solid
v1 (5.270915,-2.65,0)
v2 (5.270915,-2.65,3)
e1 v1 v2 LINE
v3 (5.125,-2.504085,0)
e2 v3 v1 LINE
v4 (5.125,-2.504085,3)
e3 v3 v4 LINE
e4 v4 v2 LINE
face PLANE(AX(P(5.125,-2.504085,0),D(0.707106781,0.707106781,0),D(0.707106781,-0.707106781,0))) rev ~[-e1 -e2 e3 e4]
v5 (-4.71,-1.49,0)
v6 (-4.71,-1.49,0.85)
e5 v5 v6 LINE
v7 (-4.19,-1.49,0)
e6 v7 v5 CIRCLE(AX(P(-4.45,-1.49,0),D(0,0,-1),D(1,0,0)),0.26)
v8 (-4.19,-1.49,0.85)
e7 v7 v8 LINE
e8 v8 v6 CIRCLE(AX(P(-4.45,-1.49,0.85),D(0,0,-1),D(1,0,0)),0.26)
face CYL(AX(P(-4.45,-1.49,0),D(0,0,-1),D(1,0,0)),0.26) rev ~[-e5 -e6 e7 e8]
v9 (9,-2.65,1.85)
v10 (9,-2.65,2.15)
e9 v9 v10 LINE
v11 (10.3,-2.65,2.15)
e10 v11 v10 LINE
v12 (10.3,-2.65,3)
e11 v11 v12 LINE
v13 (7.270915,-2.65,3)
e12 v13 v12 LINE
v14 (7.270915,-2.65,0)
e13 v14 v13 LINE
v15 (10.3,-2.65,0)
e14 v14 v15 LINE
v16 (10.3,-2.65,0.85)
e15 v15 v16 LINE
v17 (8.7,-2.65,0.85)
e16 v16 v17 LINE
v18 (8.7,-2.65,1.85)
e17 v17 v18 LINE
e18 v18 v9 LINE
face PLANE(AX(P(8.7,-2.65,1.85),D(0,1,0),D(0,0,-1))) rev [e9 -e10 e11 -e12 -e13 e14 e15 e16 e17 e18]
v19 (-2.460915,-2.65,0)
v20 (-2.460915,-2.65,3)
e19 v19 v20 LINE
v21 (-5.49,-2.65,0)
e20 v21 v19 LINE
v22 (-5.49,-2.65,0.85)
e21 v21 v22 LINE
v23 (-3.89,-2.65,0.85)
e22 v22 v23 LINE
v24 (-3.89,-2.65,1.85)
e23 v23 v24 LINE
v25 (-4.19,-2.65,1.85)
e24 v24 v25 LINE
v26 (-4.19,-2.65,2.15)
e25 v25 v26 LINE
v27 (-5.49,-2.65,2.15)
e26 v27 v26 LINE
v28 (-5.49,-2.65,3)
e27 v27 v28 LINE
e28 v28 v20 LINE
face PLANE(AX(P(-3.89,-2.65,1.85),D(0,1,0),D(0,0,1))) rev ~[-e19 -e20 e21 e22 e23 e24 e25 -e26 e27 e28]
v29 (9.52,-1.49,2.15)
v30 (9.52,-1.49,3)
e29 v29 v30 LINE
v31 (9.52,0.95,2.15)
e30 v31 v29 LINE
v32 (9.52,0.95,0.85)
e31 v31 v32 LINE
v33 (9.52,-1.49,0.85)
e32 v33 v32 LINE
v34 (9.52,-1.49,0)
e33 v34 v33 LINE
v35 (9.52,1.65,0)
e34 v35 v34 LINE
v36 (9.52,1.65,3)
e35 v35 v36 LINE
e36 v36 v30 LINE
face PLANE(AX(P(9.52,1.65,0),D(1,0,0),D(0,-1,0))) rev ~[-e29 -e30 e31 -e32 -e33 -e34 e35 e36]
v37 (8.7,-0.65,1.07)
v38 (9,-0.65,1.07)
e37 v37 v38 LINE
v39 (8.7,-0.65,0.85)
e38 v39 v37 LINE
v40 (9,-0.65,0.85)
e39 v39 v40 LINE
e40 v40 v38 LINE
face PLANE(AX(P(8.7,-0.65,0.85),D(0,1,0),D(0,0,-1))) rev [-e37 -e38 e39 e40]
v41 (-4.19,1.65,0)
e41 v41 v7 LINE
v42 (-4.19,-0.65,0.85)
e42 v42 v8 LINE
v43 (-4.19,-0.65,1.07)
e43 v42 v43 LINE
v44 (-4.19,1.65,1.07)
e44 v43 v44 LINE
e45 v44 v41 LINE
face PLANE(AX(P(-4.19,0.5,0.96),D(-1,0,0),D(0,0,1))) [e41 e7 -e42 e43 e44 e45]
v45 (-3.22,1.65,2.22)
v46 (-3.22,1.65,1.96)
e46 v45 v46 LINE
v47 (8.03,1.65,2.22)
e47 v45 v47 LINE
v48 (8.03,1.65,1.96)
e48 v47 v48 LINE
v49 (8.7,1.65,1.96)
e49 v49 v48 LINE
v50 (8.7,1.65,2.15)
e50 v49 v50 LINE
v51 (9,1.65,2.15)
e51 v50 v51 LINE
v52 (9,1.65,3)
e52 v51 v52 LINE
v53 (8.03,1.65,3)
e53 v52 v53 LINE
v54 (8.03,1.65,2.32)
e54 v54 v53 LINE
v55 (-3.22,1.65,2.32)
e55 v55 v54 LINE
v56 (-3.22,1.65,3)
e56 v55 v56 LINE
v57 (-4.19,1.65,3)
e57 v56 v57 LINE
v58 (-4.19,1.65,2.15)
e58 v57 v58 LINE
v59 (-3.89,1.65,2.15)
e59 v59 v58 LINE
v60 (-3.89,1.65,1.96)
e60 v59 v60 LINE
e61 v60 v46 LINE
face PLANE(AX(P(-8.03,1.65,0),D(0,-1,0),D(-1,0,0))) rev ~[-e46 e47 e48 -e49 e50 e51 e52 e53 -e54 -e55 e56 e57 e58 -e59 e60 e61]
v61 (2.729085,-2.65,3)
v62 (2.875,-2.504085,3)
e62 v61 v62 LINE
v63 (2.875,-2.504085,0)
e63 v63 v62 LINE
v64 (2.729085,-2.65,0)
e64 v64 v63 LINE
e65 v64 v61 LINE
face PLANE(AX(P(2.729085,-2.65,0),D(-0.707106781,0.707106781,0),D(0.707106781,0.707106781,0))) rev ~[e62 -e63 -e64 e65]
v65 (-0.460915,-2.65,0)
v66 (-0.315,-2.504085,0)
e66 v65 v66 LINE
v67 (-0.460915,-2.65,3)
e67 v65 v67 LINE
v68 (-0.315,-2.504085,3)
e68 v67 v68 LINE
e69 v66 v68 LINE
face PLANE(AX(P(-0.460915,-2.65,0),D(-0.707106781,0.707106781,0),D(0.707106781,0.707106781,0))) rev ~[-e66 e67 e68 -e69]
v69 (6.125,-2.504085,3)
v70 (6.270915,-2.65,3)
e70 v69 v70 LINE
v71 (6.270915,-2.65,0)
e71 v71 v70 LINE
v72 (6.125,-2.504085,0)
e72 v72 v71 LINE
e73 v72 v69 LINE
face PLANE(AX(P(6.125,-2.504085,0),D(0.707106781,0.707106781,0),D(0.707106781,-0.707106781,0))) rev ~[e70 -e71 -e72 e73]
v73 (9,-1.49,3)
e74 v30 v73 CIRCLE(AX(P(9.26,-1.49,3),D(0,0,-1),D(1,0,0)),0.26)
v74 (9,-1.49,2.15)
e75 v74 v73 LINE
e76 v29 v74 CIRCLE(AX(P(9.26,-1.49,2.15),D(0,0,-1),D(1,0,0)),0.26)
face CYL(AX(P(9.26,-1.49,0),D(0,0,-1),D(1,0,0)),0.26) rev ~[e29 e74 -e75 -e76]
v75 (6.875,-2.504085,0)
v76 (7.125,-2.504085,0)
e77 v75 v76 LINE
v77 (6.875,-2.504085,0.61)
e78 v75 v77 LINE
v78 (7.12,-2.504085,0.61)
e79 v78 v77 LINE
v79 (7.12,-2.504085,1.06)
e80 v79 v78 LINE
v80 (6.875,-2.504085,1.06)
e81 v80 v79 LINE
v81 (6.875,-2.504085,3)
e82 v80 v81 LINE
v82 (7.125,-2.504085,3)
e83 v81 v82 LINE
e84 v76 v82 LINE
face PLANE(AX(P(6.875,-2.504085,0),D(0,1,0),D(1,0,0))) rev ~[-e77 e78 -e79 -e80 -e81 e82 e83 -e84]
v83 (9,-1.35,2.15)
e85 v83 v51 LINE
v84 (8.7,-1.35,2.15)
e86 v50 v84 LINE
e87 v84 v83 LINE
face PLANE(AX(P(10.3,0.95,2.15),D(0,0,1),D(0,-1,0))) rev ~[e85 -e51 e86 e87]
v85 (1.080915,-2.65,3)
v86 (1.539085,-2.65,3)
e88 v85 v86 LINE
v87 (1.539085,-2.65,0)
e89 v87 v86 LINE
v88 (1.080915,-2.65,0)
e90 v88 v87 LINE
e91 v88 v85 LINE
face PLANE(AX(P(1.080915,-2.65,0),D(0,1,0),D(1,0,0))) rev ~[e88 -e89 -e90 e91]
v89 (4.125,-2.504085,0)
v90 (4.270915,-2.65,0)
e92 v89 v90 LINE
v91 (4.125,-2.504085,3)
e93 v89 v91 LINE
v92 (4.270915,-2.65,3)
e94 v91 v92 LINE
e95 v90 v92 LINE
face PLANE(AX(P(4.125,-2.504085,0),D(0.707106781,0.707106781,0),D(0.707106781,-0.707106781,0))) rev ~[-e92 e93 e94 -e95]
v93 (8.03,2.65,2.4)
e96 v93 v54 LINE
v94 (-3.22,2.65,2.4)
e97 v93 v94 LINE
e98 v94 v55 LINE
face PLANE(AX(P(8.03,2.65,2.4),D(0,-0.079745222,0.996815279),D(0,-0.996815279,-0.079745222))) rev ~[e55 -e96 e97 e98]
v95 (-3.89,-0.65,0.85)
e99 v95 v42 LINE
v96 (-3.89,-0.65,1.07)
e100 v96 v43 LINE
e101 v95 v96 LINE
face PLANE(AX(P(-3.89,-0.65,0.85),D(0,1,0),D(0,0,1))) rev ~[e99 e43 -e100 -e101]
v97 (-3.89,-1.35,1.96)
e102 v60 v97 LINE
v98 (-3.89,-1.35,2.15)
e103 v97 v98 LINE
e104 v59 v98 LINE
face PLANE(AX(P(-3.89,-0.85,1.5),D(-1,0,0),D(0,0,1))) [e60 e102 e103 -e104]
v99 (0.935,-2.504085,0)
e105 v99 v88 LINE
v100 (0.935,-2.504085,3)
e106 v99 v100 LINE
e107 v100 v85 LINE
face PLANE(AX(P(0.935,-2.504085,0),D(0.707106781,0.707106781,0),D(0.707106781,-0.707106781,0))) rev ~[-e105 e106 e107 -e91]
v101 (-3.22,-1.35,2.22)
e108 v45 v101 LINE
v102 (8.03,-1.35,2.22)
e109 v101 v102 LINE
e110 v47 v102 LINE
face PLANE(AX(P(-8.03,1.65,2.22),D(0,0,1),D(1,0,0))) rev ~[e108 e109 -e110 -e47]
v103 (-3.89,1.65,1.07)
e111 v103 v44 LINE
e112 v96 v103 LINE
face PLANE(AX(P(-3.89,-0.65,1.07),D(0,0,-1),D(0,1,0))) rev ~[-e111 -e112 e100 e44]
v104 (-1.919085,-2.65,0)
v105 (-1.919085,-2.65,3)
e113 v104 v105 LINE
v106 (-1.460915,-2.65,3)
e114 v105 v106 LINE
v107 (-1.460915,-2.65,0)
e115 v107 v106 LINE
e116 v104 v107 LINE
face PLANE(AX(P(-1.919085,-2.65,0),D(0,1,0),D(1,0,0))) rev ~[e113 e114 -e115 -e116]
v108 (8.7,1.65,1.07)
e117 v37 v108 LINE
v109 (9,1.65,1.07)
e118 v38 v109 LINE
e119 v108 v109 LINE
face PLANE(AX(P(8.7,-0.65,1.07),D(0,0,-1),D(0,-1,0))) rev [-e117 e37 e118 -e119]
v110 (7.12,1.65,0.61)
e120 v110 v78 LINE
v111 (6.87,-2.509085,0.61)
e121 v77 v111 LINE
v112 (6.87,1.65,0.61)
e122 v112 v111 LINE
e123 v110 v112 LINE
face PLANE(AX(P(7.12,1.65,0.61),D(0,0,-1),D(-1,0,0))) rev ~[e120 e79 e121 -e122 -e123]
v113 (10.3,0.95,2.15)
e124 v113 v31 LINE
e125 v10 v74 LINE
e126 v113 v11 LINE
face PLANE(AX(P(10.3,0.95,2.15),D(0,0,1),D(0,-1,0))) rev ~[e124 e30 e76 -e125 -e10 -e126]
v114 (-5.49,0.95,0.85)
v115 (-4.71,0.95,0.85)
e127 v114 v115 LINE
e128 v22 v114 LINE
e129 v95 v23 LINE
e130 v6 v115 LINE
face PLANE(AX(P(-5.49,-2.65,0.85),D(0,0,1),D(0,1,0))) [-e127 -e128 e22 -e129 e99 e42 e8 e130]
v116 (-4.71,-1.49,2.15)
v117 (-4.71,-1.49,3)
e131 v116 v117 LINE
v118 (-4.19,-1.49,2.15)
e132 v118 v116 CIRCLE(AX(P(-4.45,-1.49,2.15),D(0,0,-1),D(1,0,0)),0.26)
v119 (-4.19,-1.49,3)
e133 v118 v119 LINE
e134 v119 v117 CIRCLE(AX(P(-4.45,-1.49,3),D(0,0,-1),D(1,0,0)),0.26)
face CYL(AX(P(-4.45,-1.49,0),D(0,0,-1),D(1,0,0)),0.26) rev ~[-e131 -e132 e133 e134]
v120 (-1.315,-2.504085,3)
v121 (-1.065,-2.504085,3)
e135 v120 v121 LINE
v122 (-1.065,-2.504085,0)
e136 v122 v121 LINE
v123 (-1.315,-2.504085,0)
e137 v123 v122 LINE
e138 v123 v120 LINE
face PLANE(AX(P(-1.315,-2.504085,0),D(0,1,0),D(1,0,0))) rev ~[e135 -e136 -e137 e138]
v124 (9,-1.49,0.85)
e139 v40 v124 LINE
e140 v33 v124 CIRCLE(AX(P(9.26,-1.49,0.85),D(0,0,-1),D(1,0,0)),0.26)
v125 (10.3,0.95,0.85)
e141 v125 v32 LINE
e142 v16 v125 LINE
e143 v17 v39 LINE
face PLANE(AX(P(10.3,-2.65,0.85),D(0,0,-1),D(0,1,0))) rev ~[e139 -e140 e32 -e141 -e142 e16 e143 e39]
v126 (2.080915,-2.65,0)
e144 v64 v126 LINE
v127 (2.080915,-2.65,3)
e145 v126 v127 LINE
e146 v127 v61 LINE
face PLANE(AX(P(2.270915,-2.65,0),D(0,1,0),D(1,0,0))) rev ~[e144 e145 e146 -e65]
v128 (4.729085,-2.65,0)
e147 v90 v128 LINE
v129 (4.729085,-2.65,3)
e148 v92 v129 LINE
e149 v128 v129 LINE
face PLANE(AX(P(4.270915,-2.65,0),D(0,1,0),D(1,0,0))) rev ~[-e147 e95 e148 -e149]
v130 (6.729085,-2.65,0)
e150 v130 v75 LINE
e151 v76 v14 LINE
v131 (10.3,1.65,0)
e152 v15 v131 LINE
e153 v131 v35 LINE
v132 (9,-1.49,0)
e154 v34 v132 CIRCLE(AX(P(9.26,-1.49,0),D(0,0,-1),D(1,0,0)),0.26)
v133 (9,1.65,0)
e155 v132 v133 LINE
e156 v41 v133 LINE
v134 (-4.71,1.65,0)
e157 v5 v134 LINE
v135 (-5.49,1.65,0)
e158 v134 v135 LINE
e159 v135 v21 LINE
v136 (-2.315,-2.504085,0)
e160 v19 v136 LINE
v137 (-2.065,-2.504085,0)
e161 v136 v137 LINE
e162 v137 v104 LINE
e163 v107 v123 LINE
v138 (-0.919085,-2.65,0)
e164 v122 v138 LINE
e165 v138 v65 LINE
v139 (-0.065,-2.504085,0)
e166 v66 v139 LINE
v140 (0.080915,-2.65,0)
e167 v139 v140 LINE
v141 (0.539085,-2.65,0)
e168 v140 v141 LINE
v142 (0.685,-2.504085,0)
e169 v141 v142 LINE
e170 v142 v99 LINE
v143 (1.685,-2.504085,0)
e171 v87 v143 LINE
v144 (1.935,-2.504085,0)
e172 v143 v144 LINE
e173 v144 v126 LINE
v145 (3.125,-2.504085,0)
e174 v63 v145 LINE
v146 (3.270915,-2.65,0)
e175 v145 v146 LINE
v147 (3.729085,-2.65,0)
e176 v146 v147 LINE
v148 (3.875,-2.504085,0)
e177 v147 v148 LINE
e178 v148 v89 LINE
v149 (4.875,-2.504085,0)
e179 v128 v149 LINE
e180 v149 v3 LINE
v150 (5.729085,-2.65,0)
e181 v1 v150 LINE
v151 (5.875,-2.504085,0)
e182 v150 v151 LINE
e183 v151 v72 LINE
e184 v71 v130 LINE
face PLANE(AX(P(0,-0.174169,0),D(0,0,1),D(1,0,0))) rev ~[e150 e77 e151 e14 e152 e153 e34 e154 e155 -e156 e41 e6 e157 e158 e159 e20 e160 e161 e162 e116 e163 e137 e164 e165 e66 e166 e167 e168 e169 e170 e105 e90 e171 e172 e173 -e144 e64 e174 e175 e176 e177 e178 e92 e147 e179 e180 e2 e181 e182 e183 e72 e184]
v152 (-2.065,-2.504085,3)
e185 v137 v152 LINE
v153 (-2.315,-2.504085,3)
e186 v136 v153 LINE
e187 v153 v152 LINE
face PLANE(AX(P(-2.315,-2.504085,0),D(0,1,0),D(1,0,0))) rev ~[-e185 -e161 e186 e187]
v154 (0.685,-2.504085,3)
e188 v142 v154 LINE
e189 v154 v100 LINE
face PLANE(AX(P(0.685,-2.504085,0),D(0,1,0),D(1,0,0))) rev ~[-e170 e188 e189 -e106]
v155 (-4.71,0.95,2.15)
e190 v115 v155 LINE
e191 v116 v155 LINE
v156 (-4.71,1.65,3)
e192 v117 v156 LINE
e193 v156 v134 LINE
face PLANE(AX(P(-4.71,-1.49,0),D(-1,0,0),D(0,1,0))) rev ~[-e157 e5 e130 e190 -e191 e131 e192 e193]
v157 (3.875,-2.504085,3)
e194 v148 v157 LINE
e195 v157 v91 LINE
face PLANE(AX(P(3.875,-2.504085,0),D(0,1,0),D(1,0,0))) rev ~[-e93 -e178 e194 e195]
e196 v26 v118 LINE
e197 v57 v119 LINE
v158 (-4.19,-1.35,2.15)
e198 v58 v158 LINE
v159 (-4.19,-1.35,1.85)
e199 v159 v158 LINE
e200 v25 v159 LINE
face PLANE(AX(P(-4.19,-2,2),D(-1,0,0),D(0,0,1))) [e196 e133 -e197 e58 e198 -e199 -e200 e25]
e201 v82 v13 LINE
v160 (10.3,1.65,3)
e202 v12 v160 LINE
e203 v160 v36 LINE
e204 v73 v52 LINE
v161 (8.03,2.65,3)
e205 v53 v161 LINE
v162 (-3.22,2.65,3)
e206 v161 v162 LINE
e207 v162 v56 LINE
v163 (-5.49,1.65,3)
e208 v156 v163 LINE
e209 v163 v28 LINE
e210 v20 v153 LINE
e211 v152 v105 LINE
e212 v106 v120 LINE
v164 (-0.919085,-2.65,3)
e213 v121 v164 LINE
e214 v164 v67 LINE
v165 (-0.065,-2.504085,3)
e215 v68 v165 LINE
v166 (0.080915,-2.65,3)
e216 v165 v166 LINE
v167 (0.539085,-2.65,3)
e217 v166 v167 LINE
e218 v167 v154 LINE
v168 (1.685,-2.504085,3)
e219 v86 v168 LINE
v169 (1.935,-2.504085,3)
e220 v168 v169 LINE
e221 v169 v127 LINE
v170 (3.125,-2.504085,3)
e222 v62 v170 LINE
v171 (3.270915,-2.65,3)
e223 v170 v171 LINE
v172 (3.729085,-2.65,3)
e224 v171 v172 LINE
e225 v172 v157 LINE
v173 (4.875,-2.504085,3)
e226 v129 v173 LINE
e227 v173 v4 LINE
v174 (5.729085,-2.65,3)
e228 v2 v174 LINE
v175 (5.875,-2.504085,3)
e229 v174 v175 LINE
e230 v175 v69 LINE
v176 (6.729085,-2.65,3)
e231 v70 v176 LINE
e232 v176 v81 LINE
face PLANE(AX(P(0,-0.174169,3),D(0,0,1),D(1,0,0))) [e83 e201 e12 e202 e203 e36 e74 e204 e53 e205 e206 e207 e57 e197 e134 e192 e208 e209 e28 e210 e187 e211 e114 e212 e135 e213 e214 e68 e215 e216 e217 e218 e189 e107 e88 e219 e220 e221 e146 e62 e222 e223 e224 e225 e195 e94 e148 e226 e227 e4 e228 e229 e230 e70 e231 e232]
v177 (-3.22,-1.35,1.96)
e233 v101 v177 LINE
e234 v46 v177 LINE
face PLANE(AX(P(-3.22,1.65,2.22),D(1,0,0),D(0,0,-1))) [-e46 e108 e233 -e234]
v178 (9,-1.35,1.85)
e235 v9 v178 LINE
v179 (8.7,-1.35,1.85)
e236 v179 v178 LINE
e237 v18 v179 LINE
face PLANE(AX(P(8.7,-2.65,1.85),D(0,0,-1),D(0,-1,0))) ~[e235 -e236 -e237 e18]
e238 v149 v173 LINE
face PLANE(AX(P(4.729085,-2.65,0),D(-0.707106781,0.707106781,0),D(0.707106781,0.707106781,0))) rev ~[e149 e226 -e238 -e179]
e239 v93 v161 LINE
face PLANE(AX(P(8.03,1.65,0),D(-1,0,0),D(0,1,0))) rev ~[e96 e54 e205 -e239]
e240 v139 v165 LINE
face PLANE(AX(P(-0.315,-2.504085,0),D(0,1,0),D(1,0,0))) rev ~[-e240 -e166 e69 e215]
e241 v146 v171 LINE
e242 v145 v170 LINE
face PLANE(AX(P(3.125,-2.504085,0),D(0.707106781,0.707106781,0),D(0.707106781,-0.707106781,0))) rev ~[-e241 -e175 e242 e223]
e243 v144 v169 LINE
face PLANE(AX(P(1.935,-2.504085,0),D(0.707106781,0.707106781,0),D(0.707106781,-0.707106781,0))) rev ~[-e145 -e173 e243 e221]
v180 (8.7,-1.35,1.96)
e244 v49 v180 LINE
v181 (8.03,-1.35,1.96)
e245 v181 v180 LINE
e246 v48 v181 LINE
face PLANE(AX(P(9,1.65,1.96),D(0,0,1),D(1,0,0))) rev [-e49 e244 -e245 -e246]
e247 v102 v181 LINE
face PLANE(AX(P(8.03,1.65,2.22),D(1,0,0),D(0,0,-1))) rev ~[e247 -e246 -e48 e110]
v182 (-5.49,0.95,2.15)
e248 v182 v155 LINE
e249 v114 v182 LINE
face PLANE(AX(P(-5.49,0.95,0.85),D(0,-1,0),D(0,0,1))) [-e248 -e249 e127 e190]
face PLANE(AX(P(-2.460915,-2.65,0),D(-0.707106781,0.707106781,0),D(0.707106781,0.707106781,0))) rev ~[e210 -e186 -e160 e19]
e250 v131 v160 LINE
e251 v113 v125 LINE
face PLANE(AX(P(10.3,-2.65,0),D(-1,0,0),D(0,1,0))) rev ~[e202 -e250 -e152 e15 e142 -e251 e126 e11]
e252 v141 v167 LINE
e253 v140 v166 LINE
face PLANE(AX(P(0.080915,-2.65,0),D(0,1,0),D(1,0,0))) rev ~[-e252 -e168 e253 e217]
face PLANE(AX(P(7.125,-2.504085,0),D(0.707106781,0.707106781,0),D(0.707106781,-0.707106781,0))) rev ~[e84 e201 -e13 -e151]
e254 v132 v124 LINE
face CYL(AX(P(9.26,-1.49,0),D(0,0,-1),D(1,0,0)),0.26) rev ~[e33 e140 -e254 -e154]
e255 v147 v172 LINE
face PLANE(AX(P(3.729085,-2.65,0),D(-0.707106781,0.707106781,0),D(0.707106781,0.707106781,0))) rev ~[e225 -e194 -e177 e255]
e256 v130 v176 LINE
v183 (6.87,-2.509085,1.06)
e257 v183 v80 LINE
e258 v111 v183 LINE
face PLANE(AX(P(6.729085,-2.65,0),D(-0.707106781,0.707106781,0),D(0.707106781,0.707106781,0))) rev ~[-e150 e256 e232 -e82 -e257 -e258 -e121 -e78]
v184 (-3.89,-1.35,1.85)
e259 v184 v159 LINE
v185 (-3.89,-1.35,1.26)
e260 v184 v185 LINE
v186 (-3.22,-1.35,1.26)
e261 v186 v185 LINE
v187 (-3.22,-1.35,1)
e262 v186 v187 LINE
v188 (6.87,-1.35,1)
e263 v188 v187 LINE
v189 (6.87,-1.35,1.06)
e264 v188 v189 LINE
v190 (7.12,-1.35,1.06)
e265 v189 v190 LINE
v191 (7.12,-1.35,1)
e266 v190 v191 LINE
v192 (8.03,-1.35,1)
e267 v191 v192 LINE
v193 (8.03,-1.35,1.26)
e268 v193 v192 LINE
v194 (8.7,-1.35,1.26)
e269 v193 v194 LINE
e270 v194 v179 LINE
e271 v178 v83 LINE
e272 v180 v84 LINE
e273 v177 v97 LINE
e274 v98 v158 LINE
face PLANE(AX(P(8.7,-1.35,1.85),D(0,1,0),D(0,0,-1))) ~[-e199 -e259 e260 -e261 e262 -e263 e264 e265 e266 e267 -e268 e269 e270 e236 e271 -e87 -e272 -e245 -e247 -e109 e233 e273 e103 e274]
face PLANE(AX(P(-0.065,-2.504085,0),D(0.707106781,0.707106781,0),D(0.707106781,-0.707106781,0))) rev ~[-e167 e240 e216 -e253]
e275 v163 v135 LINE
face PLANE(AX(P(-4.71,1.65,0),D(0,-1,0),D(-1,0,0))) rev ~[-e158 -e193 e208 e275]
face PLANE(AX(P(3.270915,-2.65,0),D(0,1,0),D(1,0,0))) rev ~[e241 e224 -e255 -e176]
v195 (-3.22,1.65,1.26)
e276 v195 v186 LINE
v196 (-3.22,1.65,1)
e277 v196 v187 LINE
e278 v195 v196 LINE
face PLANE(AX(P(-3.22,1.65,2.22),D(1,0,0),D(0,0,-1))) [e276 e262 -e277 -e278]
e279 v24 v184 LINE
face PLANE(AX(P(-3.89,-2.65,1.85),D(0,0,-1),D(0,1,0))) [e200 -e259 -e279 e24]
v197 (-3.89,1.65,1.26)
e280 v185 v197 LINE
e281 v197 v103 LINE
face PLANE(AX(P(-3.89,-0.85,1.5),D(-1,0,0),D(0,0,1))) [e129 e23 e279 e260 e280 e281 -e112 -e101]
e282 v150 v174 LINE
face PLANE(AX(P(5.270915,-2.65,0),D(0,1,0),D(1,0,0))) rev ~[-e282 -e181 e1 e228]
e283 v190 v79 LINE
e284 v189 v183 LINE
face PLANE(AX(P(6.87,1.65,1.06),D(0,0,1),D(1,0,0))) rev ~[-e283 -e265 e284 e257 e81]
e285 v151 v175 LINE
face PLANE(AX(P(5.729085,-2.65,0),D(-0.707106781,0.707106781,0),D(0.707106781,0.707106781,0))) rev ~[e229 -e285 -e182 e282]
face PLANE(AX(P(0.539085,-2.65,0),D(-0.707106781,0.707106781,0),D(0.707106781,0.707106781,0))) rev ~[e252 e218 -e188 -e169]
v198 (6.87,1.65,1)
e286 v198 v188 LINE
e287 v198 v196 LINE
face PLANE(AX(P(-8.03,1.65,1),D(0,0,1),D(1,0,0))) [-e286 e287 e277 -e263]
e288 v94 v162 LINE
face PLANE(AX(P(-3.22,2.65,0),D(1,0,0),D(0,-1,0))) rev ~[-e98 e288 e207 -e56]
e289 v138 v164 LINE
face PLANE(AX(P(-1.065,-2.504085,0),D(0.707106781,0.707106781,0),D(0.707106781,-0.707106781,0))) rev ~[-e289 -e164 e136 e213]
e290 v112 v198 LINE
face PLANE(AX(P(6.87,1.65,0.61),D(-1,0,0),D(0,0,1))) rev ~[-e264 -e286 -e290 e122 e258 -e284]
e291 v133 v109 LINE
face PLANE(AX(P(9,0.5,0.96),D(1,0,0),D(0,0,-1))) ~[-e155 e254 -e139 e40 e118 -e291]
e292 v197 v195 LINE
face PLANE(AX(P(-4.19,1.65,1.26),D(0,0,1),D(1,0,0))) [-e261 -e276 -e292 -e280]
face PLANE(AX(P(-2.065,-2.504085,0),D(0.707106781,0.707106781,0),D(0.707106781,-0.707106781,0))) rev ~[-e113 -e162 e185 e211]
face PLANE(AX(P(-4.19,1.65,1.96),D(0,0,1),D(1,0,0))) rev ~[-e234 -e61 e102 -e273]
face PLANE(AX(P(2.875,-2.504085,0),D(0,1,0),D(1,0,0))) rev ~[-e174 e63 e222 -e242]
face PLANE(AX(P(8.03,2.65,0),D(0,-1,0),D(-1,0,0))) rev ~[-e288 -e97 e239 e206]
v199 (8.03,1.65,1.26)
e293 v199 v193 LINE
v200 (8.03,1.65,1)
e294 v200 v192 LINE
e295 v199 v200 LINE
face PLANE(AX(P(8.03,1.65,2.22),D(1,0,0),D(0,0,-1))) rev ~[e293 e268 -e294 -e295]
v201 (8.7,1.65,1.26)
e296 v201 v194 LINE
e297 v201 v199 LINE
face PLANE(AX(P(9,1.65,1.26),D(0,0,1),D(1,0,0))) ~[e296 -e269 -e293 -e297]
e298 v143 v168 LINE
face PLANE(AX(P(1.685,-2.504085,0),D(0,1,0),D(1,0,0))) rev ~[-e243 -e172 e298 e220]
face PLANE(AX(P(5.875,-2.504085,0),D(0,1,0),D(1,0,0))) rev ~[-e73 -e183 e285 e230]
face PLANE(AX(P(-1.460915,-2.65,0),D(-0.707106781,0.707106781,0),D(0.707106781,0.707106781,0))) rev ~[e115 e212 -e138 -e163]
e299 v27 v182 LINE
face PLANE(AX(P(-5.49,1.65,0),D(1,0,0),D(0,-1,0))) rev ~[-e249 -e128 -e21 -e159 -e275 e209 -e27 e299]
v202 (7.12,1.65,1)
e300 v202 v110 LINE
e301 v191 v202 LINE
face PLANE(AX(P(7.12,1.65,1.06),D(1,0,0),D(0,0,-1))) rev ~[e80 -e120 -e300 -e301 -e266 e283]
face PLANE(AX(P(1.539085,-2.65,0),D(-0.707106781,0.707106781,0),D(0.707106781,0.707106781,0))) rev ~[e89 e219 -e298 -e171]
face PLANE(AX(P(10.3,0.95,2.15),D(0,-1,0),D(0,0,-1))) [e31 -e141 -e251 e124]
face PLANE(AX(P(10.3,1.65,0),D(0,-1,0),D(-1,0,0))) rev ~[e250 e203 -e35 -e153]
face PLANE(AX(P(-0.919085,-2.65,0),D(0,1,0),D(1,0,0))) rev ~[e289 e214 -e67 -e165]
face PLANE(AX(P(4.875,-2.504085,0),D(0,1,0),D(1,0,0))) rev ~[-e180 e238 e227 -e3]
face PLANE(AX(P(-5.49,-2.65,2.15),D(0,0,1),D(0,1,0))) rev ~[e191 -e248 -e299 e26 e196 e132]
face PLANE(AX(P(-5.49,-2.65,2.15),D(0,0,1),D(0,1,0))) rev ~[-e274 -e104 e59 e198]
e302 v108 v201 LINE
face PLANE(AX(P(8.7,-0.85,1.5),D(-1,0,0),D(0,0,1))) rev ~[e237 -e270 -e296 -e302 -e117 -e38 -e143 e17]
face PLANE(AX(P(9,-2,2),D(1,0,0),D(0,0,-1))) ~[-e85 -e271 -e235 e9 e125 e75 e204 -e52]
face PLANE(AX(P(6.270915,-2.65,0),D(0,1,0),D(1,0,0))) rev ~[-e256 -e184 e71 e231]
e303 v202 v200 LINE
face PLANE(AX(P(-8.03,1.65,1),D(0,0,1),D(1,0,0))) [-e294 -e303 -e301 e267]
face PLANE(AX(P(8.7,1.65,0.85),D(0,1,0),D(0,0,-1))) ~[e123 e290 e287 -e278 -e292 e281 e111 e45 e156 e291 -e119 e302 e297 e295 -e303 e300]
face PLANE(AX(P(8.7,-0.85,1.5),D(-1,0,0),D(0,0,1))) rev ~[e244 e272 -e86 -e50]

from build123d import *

# Parameters (mm, degrees)
BOSS_EXTRUDE1_DEPTH             = 3
CUT_EXTRUDE1_DEPTH              = 19.761966848
SKETCH3_W                       = 16.06
SKETCH3_H                       = 1.22
CUT_EXTRUDE2_DEPTH              = 3
CUT_EXTRUDE3_DEPTH              = 12.557681428
CUT_EXTRUDE3_DEPTH_BACK         = 12.557681428
SKETCH5_W                       = 1.3
SKETCH5_H                       = 3.6
CUT_EXTRUDE4_DEPTH              = 1.6
CUT_EXTRUDE5_DEPTH              = 1.6
SKETCH8_W                       = 0.3
SKETCH8_H                       = 1.3
BOSS_EXTRUDE3_DEPTH             = 0.3
CUT_EXTRUDE6_REACH              = 13.558
SKETCH9_W                       = 0.97
SKETCH9_H                       = 0.7
SKETCH10_W                      = 1.3
SKETCH10_H                      = 0.995055469
CUT_EXTRUDE7_DEPTH              = 0.3
SKETCH11_W                      = 1.3
SKETCH11_H                      = 1.339878891
CUT_EXTRUDE8_DEPTH              = 0.3
SKETCH12_W                      = 0.22
SKETCH12_H                      = 2.3
BOSS_EXTRUDE4_DEPTH             = 0.3
SZKIC1_W                        = 4.81
SZKIC1_H                        = 6.619114068
WYTNIJ_WYCI_GNI_CIE1_DEPTH      = 12.050452479
WYTNIJ_WYCI_GNI_CIE1_DEPTH_BACK = 12.050452479


with BuildPart() as part:
    # Sketch1 → Boss-Extrude1 (new body)
    with BuildSketch(Plane.XY):
        with BuildLine():
            Line((4.729085478, -2.65), (4.875, -2.504085478))
            Line((4.875, -2.504085478), (5.125, -2.504085478))
            Line((5.125, -2.504085478), (5.270914522, -2.65))
            Line((5.270914522, -2.65), (5.729085478, -2.65))
            Line((5.729085478, -2.65), (5.875, -2.504085478))
            Line((5.875, -2.504085478), (6.125, -2.504085478))
            Line((6.125, -2.504085478), (6.270914522, -2.65))
            Line((6.270914522, -2.65), (6.729085478, -2.65))
            Line((6.729085478, -2.65), (6.875, -2.504085478))
            Line((6.875, -2.504085478), (7.125, -2.504085478))
            Line((7.125, -2.504085478), (7.270914522, -2.65))
            Line((7.270914522, -2.65), (10.3, -2.65))
            Line((10.3, -2.65), (10.3, 1.65))
            Line((10.3, 1.65), (9.52, 1.65))
            Line((9.52, 1.65), (9.52, -1.49))
            ThreePointArc((9.52, -1.49), (9.26, -1.75), (9, -1.49))
            Line((9, -1.49), (9, 1.65))
            Line((9, 1.65), (8.03, 1.65))
            Line((8.03, 1.65), (8.03, 2.65))
            Line((8.03, 2.65), (-8.03, 2.65))
            Line((-8.03, 2.65), (-8.03, 1.65))
            Line((-8.03, 1.65), (-9, 1.65))
            Line((-9, 1.65), (-9, -1.49))
            ThreePointArc((-9, -1.49), (-9.26, -1.75), (-9.52, -1.49))
            Line((-9.52, -1.49), (-9.52, 1.65))
            Line((-9.52, 1.65), (-10.3, 1.65))
            Line((-10.3, 1.65), (-10.3, -2.65))
            Line((-10.3, -2.65), (-7.270914522, -2.65))
            Line((-7.270914522, -2.65), (-7.125, -2.504085478))
            Line((-7.125, -2.504085478), (-6.875, -2.504085478))
            Line((-6.875, -2.504085478), (-6.729085478, -2.65))
            Line((-6.729085478, -2.65), (-6.270914522, -2.65))
            Line((-6.270914522, -2.65), (-6.125, -2.504085478))
            Line((-6.125, -2.504085478), (-5.875, -2.504085478))
            Line((-5.875, -2.504085478), (-5.729085478, -2.65))
            Line((-5.729085478, -2.65), (-5.270914522, -2.65))
            Line((-5.270914522, -2.65), (-5.125, -2.504085478))
            Line((-5.125, -2.504085478), (-4.875, -2.504085478))
            Line((-4.875, -2.504085478), (-4.729085478, -2.65))
            Line((-4.729085478, -2.65), (-4.270914522, -2.65))
            Line((-4.270914522, -2.65), (-4.125, -2.504085478))
            Line((-4.125, -2.504085478), (-3.875, -2.504085478))
            Line((-3.875, -2.504085478), (-3.729085478, -2.65))
            Line((-3.729085478, -2.65), (-3.270914522, -2.65))
            Line((-3.270914522, -2.65), (-3.125, -2.504085478))
            Line((-3.125, -2.504085478), (-2.875, -2.504085478))
            Line((-2.875, -2.504085478), (-2.729085478, -2.65))
            Line((-2.729085478, -2.65), (-2.270914522, -2.65))
            Line((-2.270914522, -2.65), (-2.125, -2.504085478))
            Line((-2.125, -2.504085478), (-1.875, -2.504085478))
            Line((-1.875, -2.504085478), (-1.729085478, -2.65))
            Line((-1.729085478, -2.65), (-1.270914522, -2.65))
            Line((-1.270914522, -2.65), (-1.125, -2.504085478))
            Line((-1.125, -2.504085478), (-0.875, -2.504085478))
            Line((-0.875, -2.504085478), (-0.729085478, -2.65))
            Line((-0.729085478, -2.65), (-0.270914522, -2.65))
            Line((-0.270914522, -2.65), (-0.125, -2.504085478))
            Line((-0.125, -2.504085478), (0.125, -2.504085478))
            Line((0.125, -2.504085478), (0.270914522, -2.65))
            Line((0.270914522, -2.65), (0.729085478, -2.65))
            Line((0.729085478, -2.65), (0.875, -2.504085478))
            Line((0.875, -2.504085478), (1.125, -2.504085478))
            Line((1.125, -2.504085478), (1.270914522, -2.65))
            Line((1.270914522, -2.65), (1.729085478, -2.65))
            Line((1.729085478, -2.65), (1.875, -2.504085478))
            Line((1.875, -2.504085478), (2.125, -2.504085478))
            Line((2.125, -2.504085478), (2.270914522, -2.65))
            Line((2.270914522, -2.65), (2.729085478, -2.65))
            Line((2.729085478, -2.65), (2.875, -2.504085478))
            Line((2.875, -2.504085478), (3.125, -2.504085478))
            Line((3.125, -2.504085478), (3.270914522, -2.65))
            Line((3.270914522, -2.65), (3.729085478, -2.65))
            Line((3.729085478, -2.65), (3.875, -2.504085478))
            Line((3.875, -2.504085478), (4.125, -2.504085478))
            Line((4.125, -2.504085478), (4.270914522, -2.65))
            Line((4.270914522, -2.65), (4.729085478, -2.65))
        make_face()
    extrude(amount=BOSS_EXTRUDE1_DEPTH)

    # Sketch2 → Cut-Extrude1 (cut, through all)
    with BuildSketch(Plane(origin=(8.03, 0, 0), x_dir=(0, 0, -1), z_dir=(1, 0, 0))):
        Polygon((-2.4, 2.65), (-2.32, 1.65), (0.208388731, 1.65), (0.247686287, 2.908353898), align=None)
    extrude(amount=-CUT_EXTRUDE1_DEPTH, mode=Mode.SUBTRACT)

    # Sketch3 → Cut-Extrude2 (cut)
    with BuildSketch(Plane(origin=(0, 1.65, 0), x_dir=(1, 0, 0), z_dir=(0, 1, 0))):
        with Locations((0, -1.61)):
            Rectangle(SKETCH3_W, SKETCH3_H)
    extrude(amount=-CUT_EXTRUDE2_DEPTH, mode=Mode.SUBTRACT)

    # Sketch4 → Cut-Extrude3 (cut, two sides)
    with BuildSketch(Plane(origin=(0, 1.65, 0), x_dir=(1, 0, 0), z_dir=(0, 1, 0))) as cut_extrude3_sk:
        Polygon((7.12, -1), (7.12, -0.61), (6.87, -0.61), (6.87, -1.06), (7.12, -1.06), align=None)
    extrude(amount=CUT_EXTRUDE3_DEPTH, mode=Mode.SUBTRACT)
    extrude(cut_extrude3_sk.sketch, amount=-CUT_EXTRUDE3_DEPTH_BACK, mode=Mode.SUBTRACT)

    # Sketch5 → Cut-Extrude4 (cut)
    with BuildSketch(Plane.ZY.offset(10.3)):
        with Locations((1.5, -0.85)):
            Rectangle(SKETCH5_W, SKETCH5_H)
    extrude(amount=-CUT_EXTRUDE4_DEPTH, mode=Mode.SUBTRACT)

    # Sketch6 → Cut-Extrude5 (cut)
    with BuildSketch(Plane(origin=(10.3, 0, 0), x_dir=(0, 0, -1), z_dir=(1, 0, 0))):
        Polygon((-2.15, 0.95), (-0.85, 0.95), (-0.85, -1.49), (-0.85, -2.65), (-2.15, -2.65), (-2.15, -1.49), align=None)
    extrude(amount=-CUT_EXTRUDE5_DEPTH, mode=Mode.SUBTRACT)

    # Sketch8 → Boss-Extrude3 (add)
    with BuildSketch(Plane.ZY.offset(8.7)):
        with Locations((2, -2)):
            Rectangle(SKETCH8_W, SKETCH8_H)
    boss_extrude3 = extrude(amount=BOSS_EXTRUDE3_DEPTH)

    # Cut-Extrude6: up to this face of the body (flat: up to its plane)
    cut_extrude6_end = Plane(part.part.faces().sort_by_distance((-0.005359277, -1.35, 1.610444372))[0])
    # Sketch9 → Cut-Extrude6 (cut, up to the picked face)
    with BuildSketch(Plane(origin=(0, 1.65, 0), x_dir=(1, 0, 0), z_dir=(0, 1, 0)), mode=Mode.PRIVATE) as cut_extrude6_sk1:
        with Locations((-8.515, -1.61)):
            Rectangle(SKETCH9_W, SKETCH9_H)
    cut_extrude6_tool1 = split(extrude(cut_extrude6_sk1.sketch, amount=-CUT_EXTRUDE6_REACH, mode=Mode.PRIVATE), bisect_by=cut_extrude6_end, keep=Keep.BOTH, mode=Mode.PRIVATE)
    cut_extrude6 = cut_extrude6_tool1.solids().sort_by(Axis((-8.515, 1.65, 1.61), (0, -1, 0)))[0]
    add(cut_extrude6, mode=Mode.SUBTRACT)

    # Mirror2: Cut-Extrude6 across plane
    add(cut_extrude6.mirror(Plane.ZY), mode=Mode.SUBTRACT)

    # Sketch10 → Cut-Extrude7 (cut)
    with BuildSketch(Plane.ZY.offset(9)):
        with Locations((1.5, 1.447527735)):
            Rectangle(SKETCH10_W, SKETCH10_H)
    extrude(amount=-CUT_EXTRUDE7_DEPTH, mode=Mode.SUBTRACT)

    # Sketch11 → Cut-Extrude8 (cut)
    with BuildSketch(Plane(origin=(9, 0, 0), x_dir=(0, 0, -1), z_dir=(1, 0, 0))):
        with Locations((-1.5, 1.619939446)):
            Rectangle(SKETCH11_W, SKETCH11_H)
    extrude(amount=-CUT_EXTRUDE8_DEPTH, mode=Mode.SUBTRACT)

    # Sketch12 → Boss-Extrude4 (add)
    with BuildSketch(Plane.ZY.offset(8.7)):
        with Locations((0.96, 0.5)):
            Rectangle(SKETCH12_W, SKETCH12_H)
    boss_extrude4 = extrude(amount=BOSS_EXTRUDE4_DEPTH)

    # Mirror4: Boss-Extrude4 across plane
    add(boss_extrude4.mirror(Plane.ZY))

    # Mirror5: Boss-Extrude3 across plane
    add(boss_extrude3.mirror(Plane.ZY))

    # Szkic1 → Wytnij-wyciągnięcie1 (cut, two sides)
    with BuildSketch(Plane.XY.offset(3)) as wytnij_wyci_gni_cie1_sk:
        with Locations((0, -0.145396272)):
            Rectangle(SZKIC1_W, SZKIC1_H)
    extrude(amount=WYTNIJ_WYCI_GNI_CIE1_DEPTH, mode=Mode.SUBTRACT)
    extrude(wytnij_wyci_gni_cie1_sk.sketch, amount=-WYTNIJ_WYCI_GNI_CIE1_DEPTH_BACK, mode=Mode.SUBTRACT)


with BuildPart() as wytnij_wyci_gni_cie1_piece_1:
    # of the separate pieces the step leaves, piece 1, a body of its own (wytnij_wyci_gni_cie1_pieces)
    add(part.part.solids().sort_by_distance((-2.405, -2.65, 0))[0])


with BuildPart() as wytnij_wyci_gni_cie1_piece_2:
    # of the separate pieces the step leaves, piece 2, a body of its own (wytnij_wyci_gni_cie1_pieces)
    add(part.part.solids().sort_by_distance((3.729085478, -2.65, 0))[0])


with BuildPart() as wytnij_wyci_gni_cie1_piece_1_1:
    # Obiekt-Przenieś/Kopiuj1: moved
    add(wytnij_wyci_gni_cie1_piece_1.part.moved(Location((4.81, 0, 0))))

    # Połącz1: union Wytnij-wyciągnięcie1 piece 2
    add(wytnij_wyci_gni_cie1_piece_2.part)


solid = wytnij_wyci_gni_cie1_piece_1_1.part
